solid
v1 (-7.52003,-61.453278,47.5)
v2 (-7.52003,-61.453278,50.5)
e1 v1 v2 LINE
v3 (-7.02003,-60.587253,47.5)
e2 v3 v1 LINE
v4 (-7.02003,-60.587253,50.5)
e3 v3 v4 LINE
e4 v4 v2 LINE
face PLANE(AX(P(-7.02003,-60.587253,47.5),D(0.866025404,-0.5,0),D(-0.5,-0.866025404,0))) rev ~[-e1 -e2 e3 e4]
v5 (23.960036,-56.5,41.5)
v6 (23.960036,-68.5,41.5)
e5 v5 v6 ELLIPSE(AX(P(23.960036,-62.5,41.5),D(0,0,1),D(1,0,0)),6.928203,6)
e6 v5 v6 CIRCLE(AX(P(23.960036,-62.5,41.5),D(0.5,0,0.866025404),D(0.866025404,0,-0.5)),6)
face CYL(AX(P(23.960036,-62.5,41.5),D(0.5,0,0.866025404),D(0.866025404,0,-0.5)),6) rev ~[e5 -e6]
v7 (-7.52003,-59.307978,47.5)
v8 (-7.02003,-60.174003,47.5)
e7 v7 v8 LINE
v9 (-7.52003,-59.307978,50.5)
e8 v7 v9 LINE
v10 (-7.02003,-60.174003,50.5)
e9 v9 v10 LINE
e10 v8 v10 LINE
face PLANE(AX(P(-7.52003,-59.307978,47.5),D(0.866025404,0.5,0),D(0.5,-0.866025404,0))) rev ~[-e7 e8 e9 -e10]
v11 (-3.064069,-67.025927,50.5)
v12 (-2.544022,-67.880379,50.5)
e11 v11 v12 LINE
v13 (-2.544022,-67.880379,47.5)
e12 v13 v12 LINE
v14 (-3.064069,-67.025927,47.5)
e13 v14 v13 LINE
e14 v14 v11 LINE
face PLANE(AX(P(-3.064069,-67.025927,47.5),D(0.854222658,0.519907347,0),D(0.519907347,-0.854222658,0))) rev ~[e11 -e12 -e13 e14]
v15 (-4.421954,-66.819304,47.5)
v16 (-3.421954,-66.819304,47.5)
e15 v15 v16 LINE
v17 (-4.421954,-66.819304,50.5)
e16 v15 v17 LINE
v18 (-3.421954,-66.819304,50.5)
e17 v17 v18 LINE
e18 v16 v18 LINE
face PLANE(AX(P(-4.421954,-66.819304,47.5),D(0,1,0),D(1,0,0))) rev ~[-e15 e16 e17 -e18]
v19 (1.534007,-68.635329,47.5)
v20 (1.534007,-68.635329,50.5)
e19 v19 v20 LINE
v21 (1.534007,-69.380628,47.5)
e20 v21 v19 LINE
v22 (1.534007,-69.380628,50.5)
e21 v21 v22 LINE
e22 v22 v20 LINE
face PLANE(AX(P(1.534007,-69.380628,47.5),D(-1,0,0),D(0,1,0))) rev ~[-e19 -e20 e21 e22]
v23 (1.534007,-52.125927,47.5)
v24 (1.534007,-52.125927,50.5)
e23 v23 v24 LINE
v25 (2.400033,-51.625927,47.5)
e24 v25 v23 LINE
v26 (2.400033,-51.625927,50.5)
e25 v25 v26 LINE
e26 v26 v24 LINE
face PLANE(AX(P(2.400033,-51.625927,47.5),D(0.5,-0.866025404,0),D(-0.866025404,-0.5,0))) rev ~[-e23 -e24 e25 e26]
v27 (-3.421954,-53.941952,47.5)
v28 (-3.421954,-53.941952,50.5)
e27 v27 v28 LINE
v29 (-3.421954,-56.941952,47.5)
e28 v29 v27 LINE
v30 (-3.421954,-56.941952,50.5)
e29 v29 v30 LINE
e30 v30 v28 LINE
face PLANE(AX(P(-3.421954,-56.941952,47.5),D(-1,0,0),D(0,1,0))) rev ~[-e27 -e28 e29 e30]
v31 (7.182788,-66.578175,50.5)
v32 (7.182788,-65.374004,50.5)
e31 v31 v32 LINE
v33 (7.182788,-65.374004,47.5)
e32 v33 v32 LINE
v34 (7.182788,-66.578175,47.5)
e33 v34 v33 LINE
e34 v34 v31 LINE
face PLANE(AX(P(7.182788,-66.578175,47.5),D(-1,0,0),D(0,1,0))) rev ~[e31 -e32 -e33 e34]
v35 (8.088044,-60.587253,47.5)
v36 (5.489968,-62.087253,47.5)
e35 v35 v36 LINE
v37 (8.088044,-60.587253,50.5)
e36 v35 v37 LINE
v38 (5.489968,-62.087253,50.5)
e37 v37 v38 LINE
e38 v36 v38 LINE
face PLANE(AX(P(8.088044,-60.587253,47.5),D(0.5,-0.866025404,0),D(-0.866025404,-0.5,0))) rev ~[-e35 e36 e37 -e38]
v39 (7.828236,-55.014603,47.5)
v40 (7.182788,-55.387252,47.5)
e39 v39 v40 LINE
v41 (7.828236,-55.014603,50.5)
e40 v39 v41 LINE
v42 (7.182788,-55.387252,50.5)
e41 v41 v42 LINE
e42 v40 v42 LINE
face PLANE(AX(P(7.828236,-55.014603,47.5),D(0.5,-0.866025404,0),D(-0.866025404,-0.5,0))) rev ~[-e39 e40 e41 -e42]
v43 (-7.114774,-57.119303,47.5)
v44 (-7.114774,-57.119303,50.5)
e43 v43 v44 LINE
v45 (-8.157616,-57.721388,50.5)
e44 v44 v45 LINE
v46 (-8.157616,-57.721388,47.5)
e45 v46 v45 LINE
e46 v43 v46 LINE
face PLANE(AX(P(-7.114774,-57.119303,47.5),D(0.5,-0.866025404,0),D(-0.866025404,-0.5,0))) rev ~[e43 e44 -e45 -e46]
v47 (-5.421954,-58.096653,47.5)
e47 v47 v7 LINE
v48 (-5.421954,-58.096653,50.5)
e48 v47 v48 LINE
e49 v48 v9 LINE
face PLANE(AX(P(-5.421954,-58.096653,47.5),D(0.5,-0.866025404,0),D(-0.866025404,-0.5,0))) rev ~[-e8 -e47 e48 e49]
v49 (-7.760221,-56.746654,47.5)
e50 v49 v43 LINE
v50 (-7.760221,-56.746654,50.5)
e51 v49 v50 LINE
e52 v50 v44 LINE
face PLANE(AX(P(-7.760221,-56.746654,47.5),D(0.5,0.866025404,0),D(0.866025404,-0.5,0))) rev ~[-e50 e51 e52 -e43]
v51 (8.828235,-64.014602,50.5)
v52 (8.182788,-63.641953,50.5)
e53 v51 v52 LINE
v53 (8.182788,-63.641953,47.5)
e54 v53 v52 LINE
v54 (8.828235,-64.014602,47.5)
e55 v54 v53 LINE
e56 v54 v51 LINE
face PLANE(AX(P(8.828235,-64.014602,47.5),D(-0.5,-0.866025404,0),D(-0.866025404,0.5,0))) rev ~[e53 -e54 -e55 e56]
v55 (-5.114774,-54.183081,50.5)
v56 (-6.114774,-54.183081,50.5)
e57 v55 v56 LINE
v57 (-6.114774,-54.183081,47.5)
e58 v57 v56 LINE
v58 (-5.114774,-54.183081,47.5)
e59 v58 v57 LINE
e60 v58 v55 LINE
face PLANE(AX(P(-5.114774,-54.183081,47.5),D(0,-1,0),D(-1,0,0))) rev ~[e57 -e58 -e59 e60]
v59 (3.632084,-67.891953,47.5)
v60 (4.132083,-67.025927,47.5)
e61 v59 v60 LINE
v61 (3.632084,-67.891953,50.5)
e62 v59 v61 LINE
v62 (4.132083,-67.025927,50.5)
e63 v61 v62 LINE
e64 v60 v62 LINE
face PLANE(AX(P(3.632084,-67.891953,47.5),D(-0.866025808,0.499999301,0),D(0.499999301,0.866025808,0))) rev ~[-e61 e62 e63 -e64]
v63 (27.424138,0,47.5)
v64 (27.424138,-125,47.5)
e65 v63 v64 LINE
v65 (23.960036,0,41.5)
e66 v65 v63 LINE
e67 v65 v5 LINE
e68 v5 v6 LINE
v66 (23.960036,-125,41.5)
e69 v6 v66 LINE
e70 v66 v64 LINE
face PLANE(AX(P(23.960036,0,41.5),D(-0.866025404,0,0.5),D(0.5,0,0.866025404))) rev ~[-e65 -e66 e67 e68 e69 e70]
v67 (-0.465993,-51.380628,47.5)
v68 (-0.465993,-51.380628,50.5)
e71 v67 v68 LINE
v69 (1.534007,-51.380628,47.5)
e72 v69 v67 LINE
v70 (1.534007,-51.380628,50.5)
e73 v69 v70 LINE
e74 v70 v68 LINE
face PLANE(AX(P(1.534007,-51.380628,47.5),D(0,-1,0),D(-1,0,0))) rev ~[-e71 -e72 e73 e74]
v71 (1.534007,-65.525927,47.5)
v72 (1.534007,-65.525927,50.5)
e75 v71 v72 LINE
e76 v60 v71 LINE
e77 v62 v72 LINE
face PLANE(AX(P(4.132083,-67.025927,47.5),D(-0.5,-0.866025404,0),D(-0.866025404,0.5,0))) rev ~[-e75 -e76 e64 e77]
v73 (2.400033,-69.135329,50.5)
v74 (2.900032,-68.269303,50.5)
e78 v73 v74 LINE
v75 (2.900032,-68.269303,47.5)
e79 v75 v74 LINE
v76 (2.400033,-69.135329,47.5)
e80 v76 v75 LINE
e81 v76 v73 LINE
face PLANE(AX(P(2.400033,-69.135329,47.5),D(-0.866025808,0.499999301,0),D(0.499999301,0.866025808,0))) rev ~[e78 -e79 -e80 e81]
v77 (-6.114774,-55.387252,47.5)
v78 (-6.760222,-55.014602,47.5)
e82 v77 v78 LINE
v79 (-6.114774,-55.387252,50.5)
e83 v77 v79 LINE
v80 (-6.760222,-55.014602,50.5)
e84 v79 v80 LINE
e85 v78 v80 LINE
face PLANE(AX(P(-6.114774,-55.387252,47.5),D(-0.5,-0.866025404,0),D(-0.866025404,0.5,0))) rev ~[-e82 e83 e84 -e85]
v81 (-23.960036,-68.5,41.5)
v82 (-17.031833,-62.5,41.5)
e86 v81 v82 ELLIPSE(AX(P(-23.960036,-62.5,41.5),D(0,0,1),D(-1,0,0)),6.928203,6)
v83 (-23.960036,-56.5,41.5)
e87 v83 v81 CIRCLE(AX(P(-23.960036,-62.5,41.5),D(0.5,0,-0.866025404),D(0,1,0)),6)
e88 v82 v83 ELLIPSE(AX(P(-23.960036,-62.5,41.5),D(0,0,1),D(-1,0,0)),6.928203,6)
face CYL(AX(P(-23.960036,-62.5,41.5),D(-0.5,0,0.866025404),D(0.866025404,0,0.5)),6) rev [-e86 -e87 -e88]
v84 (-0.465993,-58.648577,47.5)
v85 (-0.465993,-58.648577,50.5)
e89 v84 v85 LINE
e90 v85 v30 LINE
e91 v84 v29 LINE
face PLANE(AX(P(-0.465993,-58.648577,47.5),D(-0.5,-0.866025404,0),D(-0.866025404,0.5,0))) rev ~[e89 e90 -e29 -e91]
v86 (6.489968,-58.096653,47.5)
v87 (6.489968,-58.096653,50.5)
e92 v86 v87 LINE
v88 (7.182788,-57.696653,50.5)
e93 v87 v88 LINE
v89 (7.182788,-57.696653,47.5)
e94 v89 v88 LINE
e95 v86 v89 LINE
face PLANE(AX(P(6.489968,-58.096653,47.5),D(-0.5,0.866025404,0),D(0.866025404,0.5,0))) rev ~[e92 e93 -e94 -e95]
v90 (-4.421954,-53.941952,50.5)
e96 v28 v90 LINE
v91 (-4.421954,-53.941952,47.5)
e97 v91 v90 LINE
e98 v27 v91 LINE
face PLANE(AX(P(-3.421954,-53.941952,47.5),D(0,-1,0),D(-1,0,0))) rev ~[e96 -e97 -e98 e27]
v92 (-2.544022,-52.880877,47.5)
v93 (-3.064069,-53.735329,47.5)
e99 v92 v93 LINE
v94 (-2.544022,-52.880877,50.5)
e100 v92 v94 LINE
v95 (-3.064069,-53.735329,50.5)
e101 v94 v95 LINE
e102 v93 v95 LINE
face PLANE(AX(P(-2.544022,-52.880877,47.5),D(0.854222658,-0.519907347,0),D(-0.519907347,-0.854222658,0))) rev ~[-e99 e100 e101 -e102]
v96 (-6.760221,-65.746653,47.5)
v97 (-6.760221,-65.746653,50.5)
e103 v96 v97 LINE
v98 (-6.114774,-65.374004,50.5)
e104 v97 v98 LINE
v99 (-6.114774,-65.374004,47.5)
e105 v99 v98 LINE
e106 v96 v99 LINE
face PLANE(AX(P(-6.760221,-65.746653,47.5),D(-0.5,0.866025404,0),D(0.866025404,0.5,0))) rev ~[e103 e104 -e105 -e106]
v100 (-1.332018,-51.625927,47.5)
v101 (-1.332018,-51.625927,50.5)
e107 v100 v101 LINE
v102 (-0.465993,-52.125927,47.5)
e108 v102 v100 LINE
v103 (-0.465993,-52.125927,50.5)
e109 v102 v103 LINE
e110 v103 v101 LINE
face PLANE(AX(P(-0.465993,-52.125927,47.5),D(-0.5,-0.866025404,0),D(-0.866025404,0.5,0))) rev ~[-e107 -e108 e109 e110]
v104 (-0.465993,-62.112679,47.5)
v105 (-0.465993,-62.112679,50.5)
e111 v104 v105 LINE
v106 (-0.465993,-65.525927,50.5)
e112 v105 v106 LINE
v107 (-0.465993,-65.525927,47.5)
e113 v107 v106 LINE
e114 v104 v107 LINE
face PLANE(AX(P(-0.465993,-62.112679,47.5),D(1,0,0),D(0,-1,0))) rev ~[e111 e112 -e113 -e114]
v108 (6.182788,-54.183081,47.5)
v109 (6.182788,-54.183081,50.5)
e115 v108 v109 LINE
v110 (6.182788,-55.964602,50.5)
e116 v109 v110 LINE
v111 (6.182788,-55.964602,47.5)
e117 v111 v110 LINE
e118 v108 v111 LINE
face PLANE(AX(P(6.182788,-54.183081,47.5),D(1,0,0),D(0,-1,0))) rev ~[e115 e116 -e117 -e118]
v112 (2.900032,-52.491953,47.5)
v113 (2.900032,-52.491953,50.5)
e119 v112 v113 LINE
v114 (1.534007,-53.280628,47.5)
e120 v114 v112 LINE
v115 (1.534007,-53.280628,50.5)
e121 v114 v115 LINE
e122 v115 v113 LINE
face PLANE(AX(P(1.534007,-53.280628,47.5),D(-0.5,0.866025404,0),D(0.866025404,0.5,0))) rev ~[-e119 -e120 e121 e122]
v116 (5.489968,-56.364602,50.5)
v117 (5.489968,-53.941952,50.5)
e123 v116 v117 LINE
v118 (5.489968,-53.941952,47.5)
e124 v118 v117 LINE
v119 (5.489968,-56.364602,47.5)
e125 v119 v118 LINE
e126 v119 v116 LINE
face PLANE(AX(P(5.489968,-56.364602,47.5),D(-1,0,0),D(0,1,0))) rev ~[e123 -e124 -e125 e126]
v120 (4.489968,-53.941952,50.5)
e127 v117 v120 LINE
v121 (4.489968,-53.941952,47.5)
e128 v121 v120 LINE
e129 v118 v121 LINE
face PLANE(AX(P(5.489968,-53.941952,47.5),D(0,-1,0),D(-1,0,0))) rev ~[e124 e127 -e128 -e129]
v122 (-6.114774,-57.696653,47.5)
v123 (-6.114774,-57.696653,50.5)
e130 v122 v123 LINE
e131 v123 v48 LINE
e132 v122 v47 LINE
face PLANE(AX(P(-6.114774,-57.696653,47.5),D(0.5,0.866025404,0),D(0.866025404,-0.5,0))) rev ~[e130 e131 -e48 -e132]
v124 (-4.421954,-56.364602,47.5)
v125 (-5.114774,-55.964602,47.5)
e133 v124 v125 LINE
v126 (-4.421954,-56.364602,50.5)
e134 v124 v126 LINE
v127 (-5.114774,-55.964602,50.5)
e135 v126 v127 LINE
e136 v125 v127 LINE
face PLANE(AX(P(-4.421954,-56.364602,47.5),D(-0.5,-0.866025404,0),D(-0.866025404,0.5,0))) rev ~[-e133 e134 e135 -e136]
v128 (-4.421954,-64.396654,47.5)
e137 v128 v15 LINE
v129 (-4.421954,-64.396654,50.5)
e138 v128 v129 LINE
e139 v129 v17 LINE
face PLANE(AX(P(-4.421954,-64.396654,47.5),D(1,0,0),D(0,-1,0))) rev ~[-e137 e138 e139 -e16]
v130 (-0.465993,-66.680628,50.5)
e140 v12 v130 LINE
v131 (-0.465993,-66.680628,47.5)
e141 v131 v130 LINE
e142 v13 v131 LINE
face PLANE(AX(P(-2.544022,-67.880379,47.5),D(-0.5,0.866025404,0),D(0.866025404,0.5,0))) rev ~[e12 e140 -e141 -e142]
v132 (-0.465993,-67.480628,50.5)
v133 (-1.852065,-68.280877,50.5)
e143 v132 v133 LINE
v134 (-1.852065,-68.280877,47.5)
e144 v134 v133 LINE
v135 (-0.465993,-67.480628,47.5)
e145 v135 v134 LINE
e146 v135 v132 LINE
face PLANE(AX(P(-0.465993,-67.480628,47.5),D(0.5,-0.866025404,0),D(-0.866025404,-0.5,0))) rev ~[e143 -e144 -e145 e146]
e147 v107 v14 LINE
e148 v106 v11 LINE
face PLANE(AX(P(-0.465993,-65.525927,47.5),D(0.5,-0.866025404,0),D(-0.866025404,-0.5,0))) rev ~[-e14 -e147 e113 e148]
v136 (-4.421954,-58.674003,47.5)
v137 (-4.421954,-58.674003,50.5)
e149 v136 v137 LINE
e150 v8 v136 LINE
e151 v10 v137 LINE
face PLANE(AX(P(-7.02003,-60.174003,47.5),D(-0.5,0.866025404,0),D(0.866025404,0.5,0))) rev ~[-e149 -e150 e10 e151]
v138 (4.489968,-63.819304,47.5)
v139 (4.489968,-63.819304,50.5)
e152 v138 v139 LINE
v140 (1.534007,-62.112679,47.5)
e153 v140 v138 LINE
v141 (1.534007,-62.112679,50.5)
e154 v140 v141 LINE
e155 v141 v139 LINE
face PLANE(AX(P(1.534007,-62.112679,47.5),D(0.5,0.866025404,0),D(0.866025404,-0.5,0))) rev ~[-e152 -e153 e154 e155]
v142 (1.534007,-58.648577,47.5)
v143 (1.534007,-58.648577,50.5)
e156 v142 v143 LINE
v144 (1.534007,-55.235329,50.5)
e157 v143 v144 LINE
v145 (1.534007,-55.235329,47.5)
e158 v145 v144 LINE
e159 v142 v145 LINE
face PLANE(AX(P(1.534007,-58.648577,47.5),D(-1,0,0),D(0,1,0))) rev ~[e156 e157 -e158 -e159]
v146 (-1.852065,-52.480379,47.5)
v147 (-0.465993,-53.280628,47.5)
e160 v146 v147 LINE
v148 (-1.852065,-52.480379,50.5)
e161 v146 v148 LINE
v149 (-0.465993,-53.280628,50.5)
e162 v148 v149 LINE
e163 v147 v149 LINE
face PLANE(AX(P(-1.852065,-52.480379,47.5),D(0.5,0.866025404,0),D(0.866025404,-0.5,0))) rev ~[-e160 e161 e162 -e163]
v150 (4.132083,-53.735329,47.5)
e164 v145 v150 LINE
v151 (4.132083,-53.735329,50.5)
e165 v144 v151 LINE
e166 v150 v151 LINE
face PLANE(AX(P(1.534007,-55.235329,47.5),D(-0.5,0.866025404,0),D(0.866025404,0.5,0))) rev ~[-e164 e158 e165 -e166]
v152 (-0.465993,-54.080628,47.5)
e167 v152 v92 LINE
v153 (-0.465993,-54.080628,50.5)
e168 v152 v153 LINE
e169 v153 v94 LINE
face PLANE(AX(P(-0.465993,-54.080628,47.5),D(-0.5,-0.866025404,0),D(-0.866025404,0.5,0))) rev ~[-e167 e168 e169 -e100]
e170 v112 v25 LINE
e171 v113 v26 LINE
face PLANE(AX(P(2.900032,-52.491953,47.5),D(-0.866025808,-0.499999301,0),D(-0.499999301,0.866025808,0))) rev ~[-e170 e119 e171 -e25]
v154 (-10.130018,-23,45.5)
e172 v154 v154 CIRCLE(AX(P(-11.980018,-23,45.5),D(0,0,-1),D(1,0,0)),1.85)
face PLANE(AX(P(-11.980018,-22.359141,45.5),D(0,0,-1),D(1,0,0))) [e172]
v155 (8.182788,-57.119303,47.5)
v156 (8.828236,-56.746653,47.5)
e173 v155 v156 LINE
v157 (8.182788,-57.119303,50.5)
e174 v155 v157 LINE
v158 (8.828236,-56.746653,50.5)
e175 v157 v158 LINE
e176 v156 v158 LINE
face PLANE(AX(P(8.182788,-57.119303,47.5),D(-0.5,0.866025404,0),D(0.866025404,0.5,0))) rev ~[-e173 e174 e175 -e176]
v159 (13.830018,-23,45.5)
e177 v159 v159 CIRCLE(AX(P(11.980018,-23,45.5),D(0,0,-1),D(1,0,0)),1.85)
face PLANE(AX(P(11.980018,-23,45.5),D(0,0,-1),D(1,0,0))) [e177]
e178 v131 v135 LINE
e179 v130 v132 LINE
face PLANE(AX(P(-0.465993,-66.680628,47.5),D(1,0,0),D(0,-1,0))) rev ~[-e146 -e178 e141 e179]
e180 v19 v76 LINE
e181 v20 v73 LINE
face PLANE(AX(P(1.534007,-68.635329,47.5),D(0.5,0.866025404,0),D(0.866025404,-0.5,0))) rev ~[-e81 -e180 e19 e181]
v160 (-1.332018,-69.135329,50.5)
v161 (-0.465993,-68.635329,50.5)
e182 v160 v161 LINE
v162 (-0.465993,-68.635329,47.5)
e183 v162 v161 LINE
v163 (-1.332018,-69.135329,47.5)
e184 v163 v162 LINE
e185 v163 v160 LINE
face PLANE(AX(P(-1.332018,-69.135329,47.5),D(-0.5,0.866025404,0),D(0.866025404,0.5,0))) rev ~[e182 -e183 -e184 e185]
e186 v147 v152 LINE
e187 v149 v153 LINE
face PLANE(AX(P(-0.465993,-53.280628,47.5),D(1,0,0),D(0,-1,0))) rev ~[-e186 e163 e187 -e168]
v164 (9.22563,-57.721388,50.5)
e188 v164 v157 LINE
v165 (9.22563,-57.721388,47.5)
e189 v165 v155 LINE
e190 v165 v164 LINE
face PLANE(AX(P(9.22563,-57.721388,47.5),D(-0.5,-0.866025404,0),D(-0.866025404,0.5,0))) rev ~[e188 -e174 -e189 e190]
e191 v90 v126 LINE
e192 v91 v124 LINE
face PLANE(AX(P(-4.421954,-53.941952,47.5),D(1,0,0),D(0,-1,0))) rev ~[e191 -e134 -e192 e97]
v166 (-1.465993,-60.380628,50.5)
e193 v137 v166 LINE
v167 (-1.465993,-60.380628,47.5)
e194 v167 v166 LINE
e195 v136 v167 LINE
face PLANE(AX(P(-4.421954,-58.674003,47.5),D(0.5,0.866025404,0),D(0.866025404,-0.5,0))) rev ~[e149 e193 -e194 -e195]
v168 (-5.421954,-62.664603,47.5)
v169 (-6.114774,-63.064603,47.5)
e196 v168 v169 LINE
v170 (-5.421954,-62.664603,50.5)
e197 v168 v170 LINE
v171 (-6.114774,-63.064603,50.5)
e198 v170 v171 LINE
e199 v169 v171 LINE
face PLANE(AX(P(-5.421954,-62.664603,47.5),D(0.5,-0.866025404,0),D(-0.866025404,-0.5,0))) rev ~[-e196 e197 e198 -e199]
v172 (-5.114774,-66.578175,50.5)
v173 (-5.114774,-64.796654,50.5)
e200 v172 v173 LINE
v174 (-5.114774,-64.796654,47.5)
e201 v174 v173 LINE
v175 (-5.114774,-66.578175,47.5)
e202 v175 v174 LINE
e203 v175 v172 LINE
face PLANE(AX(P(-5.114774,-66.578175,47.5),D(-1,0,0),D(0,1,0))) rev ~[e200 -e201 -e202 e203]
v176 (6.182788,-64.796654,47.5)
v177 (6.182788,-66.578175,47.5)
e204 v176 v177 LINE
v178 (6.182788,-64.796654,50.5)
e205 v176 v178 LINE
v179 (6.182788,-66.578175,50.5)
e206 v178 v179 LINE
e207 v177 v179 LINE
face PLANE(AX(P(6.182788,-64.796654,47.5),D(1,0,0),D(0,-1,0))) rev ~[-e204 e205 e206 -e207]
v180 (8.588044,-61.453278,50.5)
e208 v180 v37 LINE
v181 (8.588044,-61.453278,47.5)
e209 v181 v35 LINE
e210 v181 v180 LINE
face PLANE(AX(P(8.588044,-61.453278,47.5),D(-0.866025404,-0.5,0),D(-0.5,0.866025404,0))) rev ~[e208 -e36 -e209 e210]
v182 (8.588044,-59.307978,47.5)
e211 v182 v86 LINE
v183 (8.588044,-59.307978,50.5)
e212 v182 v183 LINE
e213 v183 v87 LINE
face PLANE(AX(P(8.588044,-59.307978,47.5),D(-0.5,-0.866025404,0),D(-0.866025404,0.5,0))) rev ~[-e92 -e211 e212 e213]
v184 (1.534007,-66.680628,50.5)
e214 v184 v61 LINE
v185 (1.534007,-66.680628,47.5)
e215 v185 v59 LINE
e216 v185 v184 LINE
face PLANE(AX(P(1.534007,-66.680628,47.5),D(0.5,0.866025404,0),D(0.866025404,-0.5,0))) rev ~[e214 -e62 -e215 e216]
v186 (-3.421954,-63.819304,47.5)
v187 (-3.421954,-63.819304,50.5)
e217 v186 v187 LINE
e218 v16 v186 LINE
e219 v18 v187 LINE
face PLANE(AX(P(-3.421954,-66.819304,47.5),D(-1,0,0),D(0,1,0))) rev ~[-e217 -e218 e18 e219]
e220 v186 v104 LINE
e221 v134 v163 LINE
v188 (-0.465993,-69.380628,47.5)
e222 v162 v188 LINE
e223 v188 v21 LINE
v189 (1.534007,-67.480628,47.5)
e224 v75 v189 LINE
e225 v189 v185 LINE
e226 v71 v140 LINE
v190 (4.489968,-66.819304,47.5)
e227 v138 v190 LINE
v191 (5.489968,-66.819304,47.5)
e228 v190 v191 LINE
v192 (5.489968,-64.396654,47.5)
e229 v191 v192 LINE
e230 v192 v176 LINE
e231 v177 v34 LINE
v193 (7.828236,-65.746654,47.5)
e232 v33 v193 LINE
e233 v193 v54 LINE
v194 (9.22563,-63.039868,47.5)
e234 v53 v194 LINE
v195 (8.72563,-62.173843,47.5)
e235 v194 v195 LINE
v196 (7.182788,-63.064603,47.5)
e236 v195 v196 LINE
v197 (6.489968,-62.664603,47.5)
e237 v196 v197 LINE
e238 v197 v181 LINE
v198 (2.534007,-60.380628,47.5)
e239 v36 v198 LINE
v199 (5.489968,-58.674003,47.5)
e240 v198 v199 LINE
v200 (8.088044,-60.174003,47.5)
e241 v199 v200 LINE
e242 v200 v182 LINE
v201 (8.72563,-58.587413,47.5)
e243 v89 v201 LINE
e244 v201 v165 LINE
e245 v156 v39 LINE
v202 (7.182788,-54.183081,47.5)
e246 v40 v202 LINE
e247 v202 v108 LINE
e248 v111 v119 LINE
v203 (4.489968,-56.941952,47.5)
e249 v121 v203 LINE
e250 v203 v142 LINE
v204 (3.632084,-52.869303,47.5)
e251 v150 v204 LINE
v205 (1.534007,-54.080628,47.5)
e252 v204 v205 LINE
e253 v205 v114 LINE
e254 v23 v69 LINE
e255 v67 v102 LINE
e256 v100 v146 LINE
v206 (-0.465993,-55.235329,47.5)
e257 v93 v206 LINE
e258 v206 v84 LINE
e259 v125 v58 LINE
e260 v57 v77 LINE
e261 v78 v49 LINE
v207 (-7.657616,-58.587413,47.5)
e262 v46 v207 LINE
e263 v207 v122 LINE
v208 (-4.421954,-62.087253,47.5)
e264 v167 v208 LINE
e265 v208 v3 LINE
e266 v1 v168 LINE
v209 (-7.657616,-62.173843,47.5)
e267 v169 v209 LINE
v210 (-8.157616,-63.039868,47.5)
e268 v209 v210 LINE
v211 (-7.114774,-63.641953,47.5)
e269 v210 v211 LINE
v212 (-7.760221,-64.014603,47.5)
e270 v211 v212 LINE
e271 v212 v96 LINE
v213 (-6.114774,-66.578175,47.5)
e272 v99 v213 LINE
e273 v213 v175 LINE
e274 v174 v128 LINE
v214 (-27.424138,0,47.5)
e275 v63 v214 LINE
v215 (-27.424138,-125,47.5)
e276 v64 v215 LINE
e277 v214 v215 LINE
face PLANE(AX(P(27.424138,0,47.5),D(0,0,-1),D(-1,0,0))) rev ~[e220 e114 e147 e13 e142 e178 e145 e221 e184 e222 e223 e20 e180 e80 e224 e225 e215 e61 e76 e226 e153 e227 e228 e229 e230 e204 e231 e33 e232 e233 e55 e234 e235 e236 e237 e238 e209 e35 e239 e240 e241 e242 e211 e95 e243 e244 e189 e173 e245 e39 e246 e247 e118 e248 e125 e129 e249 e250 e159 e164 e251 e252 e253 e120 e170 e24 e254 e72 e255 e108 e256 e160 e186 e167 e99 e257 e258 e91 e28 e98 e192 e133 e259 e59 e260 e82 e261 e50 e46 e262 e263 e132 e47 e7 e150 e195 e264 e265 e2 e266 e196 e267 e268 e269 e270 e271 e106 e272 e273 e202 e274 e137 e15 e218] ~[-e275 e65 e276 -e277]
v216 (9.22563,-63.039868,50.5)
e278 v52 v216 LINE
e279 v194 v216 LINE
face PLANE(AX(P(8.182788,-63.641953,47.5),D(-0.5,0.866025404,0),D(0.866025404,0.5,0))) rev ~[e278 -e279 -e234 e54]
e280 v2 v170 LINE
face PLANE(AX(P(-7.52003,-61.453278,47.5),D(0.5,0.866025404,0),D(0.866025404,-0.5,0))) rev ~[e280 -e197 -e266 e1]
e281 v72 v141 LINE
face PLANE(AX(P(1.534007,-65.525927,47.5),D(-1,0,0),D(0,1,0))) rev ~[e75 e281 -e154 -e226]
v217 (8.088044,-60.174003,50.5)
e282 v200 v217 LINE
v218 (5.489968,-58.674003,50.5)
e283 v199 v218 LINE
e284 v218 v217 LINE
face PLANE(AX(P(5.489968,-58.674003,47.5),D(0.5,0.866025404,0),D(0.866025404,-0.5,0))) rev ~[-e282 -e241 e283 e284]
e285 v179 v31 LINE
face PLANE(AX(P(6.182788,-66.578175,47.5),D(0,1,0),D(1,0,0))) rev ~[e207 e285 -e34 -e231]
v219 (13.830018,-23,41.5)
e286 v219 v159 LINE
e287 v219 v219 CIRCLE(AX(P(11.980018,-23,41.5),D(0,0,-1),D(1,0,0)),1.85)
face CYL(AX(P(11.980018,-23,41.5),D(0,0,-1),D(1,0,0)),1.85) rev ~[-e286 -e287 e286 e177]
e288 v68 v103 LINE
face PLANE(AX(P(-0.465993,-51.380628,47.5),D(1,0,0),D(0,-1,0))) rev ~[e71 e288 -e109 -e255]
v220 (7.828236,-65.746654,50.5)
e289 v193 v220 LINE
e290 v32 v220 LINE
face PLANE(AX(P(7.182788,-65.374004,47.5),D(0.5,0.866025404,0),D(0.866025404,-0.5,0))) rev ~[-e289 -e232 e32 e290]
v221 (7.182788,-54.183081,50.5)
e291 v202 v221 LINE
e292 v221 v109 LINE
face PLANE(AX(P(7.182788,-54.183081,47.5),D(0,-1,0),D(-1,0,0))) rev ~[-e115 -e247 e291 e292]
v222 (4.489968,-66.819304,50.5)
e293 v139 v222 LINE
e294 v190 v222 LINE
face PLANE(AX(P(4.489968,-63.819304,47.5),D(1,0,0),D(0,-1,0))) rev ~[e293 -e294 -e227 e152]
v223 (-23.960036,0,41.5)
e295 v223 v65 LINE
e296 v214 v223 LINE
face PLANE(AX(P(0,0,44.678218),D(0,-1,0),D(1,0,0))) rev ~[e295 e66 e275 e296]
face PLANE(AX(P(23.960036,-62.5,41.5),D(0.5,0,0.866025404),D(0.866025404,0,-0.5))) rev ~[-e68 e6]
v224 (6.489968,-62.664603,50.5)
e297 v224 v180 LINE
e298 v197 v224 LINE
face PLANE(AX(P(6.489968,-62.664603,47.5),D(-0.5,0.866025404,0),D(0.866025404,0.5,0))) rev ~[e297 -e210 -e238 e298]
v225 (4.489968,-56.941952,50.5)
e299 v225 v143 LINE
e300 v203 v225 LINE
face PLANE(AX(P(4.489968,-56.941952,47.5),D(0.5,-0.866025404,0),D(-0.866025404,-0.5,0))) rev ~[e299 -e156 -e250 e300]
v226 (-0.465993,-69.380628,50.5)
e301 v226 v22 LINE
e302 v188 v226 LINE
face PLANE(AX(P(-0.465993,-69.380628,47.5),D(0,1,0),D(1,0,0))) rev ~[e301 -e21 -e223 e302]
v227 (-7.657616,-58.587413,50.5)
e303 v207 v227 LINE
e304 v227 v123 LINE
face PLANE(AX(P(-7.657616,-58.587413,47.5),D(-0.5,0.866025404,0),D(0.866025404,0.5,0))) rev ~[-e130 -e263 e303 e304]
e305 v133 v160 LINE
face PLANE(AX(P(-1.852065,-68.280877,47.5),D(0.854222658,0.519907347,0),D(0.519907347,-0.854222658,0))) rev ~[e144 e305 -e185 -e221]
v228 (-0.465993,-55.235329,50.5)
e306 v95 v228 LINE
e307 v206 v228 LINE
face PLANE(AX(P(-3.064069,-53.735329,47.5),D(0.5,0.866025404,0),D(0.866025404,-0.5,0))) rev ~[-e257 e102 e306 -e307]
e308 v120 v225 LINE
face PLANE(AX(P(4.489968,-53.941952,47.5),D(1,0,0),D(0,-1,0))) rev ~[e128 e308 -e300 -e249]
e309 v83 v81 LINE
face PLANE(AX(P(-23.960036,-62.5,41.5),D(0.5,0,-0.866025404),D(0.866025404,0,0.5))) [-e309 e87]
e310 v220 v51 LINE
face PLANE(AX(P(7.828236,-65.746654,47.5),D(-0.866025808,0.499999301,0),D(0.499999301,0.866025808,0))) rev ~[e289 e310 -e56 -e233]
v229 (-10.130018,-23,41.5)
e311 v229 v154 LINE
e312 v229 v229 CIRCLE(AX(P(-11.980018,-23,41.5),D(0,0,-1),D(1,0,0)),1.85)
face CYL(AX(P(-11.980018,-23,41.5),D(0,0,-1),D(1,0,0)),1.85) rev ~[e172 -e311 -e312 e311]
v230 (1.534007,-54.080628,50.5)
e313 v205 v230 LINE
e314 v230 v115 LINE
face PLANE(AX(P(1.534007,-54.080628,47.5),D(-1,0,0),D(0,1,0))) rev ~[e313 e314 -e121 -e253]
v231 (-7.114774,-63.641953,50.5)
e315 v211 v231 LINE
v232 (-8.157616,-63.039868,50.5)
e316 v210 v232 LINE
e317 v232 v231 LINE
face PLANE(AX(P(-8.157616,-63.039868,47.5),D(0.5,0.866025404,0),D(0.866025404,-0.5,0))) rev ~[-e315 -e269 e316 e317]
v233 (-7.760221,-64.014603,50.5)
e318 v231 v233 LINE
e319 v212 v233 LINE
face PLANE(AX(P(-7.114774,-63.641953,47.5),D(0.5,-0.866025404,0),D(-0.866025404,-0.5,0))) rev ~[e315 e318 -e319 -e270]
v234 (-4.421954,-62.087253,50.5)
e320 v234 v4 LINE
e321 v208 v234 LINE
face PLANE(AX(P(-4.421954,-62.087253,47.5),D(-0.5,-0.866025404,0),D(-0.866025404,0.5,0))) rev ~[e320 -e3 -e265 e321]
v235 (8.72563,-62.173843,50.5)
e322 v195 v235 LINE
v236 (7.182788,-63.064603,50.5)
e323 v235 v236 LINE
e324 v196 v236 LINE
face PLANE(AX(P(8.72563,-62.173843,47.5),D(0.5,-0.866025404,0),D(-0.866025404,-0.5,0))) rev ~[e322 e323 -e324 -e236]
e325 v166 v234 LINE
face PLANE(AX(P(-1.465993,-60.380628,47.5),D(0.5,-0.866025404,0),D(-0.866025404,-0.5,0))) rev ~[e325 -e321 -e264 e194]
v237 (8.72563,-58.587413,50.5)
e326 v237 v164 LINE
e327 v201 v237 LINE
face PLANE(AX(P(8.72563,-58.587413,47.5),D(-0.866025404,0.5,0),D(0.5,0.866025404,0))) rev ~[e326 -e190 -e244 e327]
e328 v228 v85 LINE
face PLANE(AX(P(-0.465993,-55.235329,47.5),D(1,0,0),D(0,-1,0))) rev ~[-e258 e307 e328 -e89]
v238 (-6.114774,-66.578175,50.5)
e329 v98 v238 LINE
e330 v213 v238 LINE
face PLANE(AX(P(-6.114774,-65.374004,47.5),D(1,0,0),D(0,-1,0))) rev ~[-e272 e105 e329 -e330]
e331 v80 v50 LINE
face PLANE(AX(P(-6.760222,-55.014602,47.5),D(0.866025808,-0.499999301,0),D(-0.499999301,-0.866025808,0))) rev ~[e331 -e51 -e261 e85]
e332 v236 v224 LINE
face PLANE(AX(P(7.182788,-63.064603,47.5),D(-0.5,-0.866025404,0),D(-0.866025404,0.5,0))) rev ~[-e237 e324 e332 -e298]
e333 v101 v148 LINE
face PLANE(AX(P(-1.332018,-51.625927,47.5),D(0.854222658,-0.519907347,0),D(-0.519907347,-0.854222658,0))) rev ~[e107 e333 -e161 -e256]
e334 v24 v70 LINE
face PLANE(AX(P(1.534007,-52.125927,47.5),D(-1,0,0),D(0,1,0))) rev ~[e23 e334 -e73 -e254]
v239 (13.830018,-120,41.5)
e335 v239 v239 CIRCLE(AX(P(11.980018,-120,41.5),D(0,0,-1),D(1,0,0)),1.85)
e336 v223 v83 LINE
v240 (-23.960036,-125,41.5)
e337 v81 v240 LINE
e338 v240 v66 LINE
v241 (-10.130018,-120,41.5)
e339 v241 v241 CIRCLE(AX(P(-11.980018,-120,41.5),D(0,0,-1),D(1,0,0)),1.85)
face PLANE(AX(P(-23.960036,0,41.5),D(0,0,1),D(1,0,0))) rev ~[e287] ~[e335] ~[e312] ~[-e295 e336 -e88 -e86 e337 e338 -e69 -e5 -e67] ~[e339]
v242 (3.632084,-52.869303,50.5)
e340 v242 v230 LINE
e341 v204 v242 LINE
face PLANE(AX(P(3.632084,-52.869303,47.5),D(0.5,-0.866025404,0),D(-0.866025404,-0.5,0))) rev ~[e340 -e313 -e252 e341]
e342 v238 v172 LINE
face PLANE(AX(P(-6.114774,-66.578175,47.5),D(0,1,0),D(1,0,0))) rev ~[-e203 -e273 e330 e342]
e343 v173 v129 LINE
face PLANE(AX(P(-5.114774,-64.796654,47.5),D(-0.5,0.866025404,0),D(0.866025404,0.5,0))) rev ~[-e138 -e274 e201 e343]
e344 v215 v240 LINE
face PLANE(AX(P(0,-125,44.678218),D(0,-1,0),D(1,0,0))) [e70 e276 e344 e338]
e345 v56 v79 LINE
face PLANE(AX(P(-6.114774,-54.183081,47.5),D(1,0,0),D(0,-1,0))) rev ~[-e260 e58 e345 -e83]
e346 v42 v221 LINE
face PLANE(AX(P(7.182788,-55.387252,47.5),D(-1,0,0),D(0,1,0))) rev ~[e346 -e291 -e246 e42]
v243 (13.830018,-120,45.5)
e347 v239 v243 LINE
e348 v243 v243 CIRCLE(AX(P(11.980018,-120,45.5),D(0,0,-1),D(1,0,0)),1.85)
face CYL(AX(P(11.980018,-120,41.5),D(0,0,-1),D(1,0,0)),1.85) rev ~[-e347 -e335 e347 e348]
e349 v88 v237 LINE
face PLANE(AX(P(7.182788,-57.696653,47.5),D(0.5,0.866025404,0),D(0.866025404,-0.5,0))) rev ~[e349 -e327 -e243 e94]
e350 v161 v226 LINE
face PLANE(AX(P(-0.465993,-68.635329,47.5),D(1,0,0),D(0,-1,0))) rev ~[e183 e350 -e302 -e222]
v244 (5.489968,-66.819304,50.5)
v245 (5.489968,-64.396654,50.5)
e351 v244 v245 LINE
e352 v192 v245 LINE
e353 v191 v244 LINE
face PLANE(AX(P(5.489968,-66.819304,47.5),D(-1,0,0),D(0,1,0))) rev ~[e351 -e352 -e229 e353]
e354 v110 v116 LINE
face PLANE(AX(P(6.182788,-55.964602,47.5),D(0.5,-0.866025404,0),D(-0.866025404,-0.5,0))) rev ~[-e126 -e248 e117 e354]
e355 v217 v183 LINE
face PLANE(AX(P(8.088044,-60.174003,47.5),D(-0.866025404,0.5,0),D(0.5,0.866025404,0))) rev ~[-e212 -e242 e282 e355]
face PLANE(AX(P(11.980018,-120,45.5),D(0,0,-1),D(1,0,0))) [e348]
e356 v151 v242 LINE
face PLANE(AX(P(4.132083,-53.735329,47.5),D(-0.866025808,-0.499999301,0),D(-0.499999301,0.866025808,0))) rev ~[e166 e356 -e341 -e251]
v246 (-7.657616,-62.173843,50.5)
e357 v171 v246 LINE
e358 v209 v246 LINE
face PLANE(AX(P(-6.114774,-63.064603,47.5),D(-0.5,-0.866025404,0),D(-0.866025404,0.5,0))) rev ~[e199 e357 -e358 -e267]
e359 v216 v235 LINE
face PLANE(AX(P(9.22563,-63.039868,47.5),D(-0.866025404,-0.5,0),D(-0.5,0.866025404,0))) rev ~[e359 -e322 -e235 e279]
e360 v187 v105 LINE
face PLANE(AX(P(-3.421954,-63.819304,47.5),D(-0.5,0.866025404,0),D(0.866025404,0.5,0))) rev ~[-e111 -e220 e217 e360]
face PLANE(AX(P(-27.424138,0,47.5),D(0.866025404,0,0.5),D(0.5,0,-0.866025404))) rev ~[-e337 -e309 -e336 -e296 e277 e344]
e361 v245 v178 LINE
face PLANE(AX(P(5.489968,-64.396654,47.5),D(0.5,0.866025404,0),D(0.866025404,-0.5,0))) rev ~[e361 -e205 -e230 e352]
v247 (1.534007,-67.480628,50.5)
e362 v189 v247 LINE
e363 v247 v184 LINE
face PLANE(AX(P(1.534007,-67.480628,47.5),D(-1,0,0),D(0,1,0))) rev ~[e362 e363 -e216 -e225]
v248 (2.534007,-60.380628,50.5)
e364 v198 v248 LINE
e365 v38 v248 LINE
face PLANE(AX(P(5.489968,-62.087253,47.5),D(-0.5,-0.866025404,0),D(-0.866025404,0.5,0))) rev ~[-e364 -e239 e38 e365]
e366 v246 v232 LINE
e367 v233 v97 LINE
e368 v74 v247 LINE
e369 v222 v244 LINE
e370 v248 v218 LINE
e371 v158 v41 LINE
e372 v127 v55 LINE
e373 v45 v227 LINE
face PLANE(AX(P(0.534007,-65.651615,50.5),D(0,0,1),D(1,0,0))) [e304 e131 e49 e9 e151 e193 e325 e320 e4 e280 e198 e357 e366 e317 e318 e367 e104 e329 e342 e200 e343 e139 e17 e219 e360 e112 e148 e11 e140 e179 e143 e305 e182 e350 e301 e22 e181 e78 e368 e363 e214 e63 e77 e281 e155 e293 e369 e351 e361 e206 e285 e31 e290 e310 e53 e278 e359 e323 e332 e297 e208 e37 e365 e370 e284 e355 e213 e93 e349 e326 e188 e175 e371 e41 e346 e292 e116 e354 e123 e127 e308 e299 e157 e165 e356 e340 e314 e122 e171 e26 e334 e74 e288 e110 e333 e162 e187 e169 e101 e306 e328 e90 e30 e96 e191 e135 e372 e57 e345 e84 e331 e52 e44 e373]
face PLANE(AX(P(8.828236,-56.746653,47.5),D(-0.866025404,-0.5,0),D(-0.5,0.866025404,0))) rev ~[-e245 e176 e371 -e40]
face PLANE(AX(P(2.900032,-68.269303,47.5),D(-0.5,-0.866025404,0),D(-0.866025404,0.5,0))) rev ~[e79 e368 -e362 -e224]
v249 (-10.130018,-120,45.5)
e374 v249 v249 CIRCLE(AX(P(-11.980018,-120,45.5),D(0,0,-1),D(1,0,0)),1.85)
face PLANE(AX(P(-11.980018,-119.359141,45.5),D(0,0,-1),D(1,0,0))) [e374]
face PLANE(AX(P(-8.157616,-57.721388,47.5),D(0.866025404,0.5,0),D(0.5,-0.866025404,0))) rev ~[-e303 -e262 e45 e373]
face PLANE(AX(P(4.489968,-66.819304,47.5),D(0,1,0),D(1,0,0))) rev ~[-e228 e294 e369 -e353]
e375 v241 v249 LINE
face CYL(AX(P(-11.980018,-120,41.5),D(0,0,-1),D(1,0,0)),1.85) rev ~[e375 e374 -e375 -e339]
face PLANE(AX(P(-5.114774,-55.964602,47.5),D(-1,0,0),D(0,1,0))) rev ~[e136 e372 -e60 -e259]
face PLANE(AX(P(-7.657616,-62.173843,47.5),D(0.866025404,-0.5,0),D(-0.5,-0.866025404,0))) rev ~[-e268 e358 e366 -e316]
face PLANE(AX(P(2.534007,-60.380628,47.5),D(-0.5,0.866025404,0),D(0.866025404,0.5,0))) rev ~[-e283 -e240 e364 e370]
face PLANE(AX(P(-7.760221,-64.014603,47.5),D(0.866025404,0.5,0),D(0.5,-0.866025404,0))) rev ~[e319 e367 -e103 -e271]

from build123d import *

# Parameters (mm, degrees)
F1_DEPTH  = 125
F2_R      = 1.85
F3_DEPTH  = 4
F5_DEPTH  = 3
F7_R      = 6
F8_DEPTH  = 25
F10_R     = 6
F11_DEPTH = 25


with BuildPart() as f1:
    # F0 (on Front) → F1 (new body)
    with BuildSketch(Plane.XZ):
        Polygon((27.4241377865, 47.5), (-27.4241377865, 47.5), (-23.9600361714, 41.5), (23.9600361714, 41.5), align=None)
    extrude(amount=F1_DEPTH)

    # F2 (on face) → F3 (cut)
    with BuildSketch(Plane(origin=(0, 0, 41.5), x_dir=(1, 0, 0), z_dir=(0, 0, -1))):
        with BuildLine():
            ThreePointArc((-13.8300180857, 120), (-11.9800180857, 118.15), (-10.1300180857, 120))
            Line((-10.1300180857, 120), (-13.8300180857, 120))
        make_face()
        with BuildLine():
            Line((-13.8300180857, 120), (-10.1300180857, 120))
            ThreePointArc((-10.1300180857, 120), (-11.9800180857, 121.85), (-13.8300180857, 120))
        make_face()
        with Locations((11.9800180857, 120)):
            Circle(F2_R)
        with BuildLine():
            ThreePointArc((-13.8300180857, 23), (-11.9800180857, 21.15), (-10.1300180857, 23))
            Line((-10.1300180857, 23), (-13.8300180857, 23))
        make_face()
        with BuildLine():
            Line((-13.8300180857, 23), (-10.1300180857, 23))
            ThreePointArc((-10.1300180857, 23), (-11.9800180857, 24.85), (-13.8300180857, 23))
        make_face()
        with Locations((11.9800180857, 23)):
            Circle(F2_R)
    extrude(amount=-F3_DEPTH, mode=Mode.SUBTRACT)

    # F4 (on face) → F5 (join)
    with BuildSketch(Plane.XY.offset(47.5)):
        Polygon((0.5340071506, -61.535328541), (-0.4659928494, -62.1126788102), (-0.4659928494, -65.5259274643), (-0.4659928494, -66.6806280026), (-0.4659928494, -67.4806280026), (-0.4659928494, -68.635328541), (-0.4659928494, -69.3806280026), (1.5340071506, -69.3806280026), (1.5340071506, -68.635328541), (1.5340071506, -67.4806280026), (1.5340071506, -66.6806280026), (1.5340071506, -65.5259274643), (1.5340071506, -62.1126788102), align=None)
        Polygon((2.900031855, -68.2693027335), (1.5340071506, -67.4806280026), (1.5340071506, -68.635328541), (2.4000325544, -69.135328541), align=None)
        Polygon((4.132083362, -67.0259274643), (1.5340071506, -65.5259274643), (1.5340071506, -66.6806280026), (3.6320840614, -67.8919532719), align=None)
        Polygon((-0.4659928494, -68.635328541), (-0.4659928494, -67.4806280026), (-1.8520648707, -68.2808770573), (-1.3320182531, -69.135328541), align=None)
        Polygon((-0.4659928494, -66.6806280026), (-0.4659928494, -65.5259274643), (-3.0640690607, -67.0259274643), (-2.5440224431, -67.880378948), align=None)
        Polygon((-3.4219535926, -66.819303541), (-3.4219535926, -63.819303541), (-4.4219535926, -64.3966538102), (-4.4219535926, -66.819303541), align=None)
        Polygon((-5.1147739156, -66.5781745553), (-5.1147739156, -64.7966538102), (-6.1147739156, -65.3740040794), (-6.1147739156, -66.5781745553), align=None)
        Polygon((-7.1147739156, -63.6419532718), (-6.1147739156, -63.0646030026), (-7.6576161382, -62.1738426302), (-8.1576161382, -63.039868034), align=None)
        Polygon((-5.4219535926, -62.6646030026), (-4.4219535926, -62.0872527334), (-7.0200298039, -60.5872527335), (-7.5200298039, -61.4532781373), align=None)
        Polygon((-4.4219535925, -58.6740032718), (-5.4219535925, -58.0966530026), (-7.5200298039, -59.307977868), (-7.0200298039, -60.1740032718), align=None)
        Polygon((-8.1576161382, -57.7213879713), (-7.6576161382, -58.5874133751), (-6.1147739156, -57.6966530026), (-7.1147739156, -57.1193027334), align=None)
        Polygon((-6.1147739156, -54.18308145), (-6.1147739156, -55.3872519259), (-5.1147739156, -55.964602195), (-5.1147739156, -54.18308145), align=None)
        Polygon((-4.4219535926, -53.9419524643), (-4.4219535926, -56.3646021951), (-3.4219535925, -56.9419524642), (-3.4219535926, -53.9419524643), align=None)
        Polygon((-3.0640690607, -53.735328541), (-0.4659928494, -55.235328541), (-0.4659928494, -54.0806280026), (-2.5440224431, -52.8808770573), align=None)
        Polygon((-1.8520648707, -52.480378948), (-0.4659928494, -53.2806280026), (-0.4659928494, -52.1259274643), (-1.3320182531, -51.6259274643), align=None)
        Polygon((1.5340071506, -52.1259274643), (1.5340071506, -53.2806280026), (2.900031855, -52.4919532718), (2.4000325544, -51.6259274643), align=None)
        Polygon((1.5340071506, -54.0806280026), (1.5340071506, -55.235328541), (4.132083362, -53.735328541), (3.6320840614, -52.8693027334), align=None)
        Polygon((4.4899678938, -53.9419524643), (4.4899678938, -56.9419524643), (5.4899678938, -56.3646021951), (5.4899678938, -53.9419524643), align=None)
        Polygon((6.1827882169, -54.18308145), (6.1827882169, -55.9646021951), (7.1827882169, -55.3872519259), (7.1827882169, -54.18308145), align=None)
        Polygon((8.1827882169, -57.1193027334), (7.1827882169, -57.6966530026), (8.7256304395, -58.5874133751), (9.2256304395, -57.7213879713), align=None)
        Polygon((6.4899678939, -58.0966530026), (5.4899678939, -58.6740032718), (8.0880441052, -60.1740032718), (8.5880441052, -59.307977868), align=None)
        Polygon((8.0880441052, -60.5872527335), (5.4899678939, -62.0872527335), (6.4899678939, -62.6646030027), (8.5880441052, -61.4532781373), align=None)
        Polygon((8.7256304395, -62.1738426302), (7.1827882169, -63.0646030027), (8.1827882169, -63.6419532719), (9.2256304395, -63.039868034), align=None)
        Polygon((7.1827882169, -65.3740040794), (6.1827882169, -64.7966538102), (6.1827882169, -66.5781745553), (7.1827882169, -66.5781745553), align=None)
        Polygon((2.5340071506, -60.3806280026), (1.5340071506, -60.9579782718), (1.5340071506, -62.1126788102), (4.4899678938, -63.819303541), (5.4899678938, -64.3966538102), (6.1827882169, -64.7966538102), (7.1827882169, -65.3740040794), (7.8282364841, -65.7466538103), (8.8282350853, -64.0146021951), (8.1827882169, -63.6419532719), (7.1827882169, -63.0646030027), (6.4899678939, -62.6646030027), (5.4899678939, -62.0872527335), align=None)
        Polygon((-0.4659928494, -60.9579782718), (-1.4659928493, -60.3806280026), (-4.4219535926, -62.0872527334), (-5.4219535926, -62.6646030026), (-6.1147739156, -63.0646030026), (-7.1147739156, -63.6419532718), (-7.7602214834, -64.0146025988), (-6.7602214834, -65.7466534064), (-6.1147739156, -65.3740040794), (-5.1147739156, -64.7966538102), (-4.4219535926, -64.3966538102), (-3.4219535926, -63.819303541), (-0.4659928494, -62.1126788102), align=None)
        Polygon((-7.1147739156, -57.1193027334), (-6.1147739156, -57.6966530026), (-5.4219535925, -58.0966530026), (-4.4219535925, -58.6740032718), (-1.4659928493, -60.3806280026), (-0.4659928494, -59.8032777334), (-0.4659928494, -58.648577195), (-3.4219535925, -56.9419524642), (-4.4219535925, -56.364602195), (-5.1147739156, -55.964602195), (-6.1147739156, -55.3872519258), (-6.7602221828, -55.014602195), (-7.760220784, -56.7466538101), align=None)
        Polygon((1.5340071506, -58.648577195), (1.5340071506, -59.8032777334), (2.5340071506, -60.3806280026), (5.4899678939, -58.6740032718), (6.4899678939, -58.0966530026), (7.1827882169, -57.6966530026), (8.1827882169, -57.1193027334), (8.8282357847, -56.7466534064), (7.8282357847, -55.0146025988), (7.1827882169, -55.3872519259), (6.1827882169, -55.9646021951), (5.4899678938, -56.3646021951), (4.4899678938, -56.9419524643), align=None)
        Polygon((-0.4659928494, -55.235328541), (-0.4659928494, -58.648577195), (0.5340071506, -59.2259274642), (1.5340071506, -58.648577195), (1.5340071506, -55.235328541), (1.5340071506, -54.0806280026), (1.5340071506, -53.2806280026), (1.5340071506, -52.1259274643), (1.5340071506, -51.3806280026), (-0.4659928494, -51.3806280026), (-0.4659928494, -52.1259274643), (-0.4659928494, -53.2806280026), (-0.4659928494, -54.0806280026), align=None)
        Polygon((5.4899678938, -64.3966538102), (4.4899678938, -63.819303541), (4.4899678938, -66.819303541), (5.4899678938, -66.819303541), align=None)
        Polygon((0.5340071506, -61.535328541), (-0.4659928494, -60.9579782718), (-0.4659928494, -62.1126788102), align=None)
        Polygon((1.5340071506, -60.9579782718), (0.5340071506, -61.535328541), (1.5340071506, -62.1126788102), align=None)
        Polygon((2.5340071506, -60.3806280026), (1.5340071506, -59.8032777334), (1.5340071506, -60.9579782718), align=None)
        Polygon((1.5340071506, -58.648577195), (0.5340071506, -59.2259274642), (1.5340071506, -59.8032777334), align=None)
        Polygon((0.5340071506, -59.2259274642), (-0.4659928494, -59.8032777334), (-0.4659928494, -60.9579782718), (0.5340071506, -61.535328541), (1.5340071506, -60.9579782718), (1.5340071506, -59.8032777334), align=None)
        Polygon((-0.4659928494, -59.8032777334), (-1.4659928493, -60.3806280026), (-0.4659928494, -60.9579782718), align=None)
        Polygon((-0.4659928494, -58.648577195), (-0.4659928494, -59.8032777334), (0.5340071506, -59.2259274642), align=None)
    extrude(amount=F5_DEPTH)

    # F7 (on face) → F8 (cut)
    with BuildSketch(Plane(origin=(-23.9600361714, 0, 41.5), x_dir=(0.8660254038, 0, 0.5), z_dir=(0.5, 0, -0.8660254038))):
        with Locations((0, 62.5)):
            Circle(F7_R)
    extrude(amount=F8_DEPTH, mode=Mode.SUBTRACT)

    # F10 (on face) → F11 (cut)
    with BuildSketch(Plane(origin=(23.9600361714, 0, 41.5), x_dir=(0.8660254038, 0, -0.5), z_dir=(0.5, 0, 0.8660254038))):
        with Locations((0, -62.5)):
            Circle(F10_R)
    extrude(amount=-F11_DEPTH, mode=Mode.SUBTRACT)


solid = f1.part
